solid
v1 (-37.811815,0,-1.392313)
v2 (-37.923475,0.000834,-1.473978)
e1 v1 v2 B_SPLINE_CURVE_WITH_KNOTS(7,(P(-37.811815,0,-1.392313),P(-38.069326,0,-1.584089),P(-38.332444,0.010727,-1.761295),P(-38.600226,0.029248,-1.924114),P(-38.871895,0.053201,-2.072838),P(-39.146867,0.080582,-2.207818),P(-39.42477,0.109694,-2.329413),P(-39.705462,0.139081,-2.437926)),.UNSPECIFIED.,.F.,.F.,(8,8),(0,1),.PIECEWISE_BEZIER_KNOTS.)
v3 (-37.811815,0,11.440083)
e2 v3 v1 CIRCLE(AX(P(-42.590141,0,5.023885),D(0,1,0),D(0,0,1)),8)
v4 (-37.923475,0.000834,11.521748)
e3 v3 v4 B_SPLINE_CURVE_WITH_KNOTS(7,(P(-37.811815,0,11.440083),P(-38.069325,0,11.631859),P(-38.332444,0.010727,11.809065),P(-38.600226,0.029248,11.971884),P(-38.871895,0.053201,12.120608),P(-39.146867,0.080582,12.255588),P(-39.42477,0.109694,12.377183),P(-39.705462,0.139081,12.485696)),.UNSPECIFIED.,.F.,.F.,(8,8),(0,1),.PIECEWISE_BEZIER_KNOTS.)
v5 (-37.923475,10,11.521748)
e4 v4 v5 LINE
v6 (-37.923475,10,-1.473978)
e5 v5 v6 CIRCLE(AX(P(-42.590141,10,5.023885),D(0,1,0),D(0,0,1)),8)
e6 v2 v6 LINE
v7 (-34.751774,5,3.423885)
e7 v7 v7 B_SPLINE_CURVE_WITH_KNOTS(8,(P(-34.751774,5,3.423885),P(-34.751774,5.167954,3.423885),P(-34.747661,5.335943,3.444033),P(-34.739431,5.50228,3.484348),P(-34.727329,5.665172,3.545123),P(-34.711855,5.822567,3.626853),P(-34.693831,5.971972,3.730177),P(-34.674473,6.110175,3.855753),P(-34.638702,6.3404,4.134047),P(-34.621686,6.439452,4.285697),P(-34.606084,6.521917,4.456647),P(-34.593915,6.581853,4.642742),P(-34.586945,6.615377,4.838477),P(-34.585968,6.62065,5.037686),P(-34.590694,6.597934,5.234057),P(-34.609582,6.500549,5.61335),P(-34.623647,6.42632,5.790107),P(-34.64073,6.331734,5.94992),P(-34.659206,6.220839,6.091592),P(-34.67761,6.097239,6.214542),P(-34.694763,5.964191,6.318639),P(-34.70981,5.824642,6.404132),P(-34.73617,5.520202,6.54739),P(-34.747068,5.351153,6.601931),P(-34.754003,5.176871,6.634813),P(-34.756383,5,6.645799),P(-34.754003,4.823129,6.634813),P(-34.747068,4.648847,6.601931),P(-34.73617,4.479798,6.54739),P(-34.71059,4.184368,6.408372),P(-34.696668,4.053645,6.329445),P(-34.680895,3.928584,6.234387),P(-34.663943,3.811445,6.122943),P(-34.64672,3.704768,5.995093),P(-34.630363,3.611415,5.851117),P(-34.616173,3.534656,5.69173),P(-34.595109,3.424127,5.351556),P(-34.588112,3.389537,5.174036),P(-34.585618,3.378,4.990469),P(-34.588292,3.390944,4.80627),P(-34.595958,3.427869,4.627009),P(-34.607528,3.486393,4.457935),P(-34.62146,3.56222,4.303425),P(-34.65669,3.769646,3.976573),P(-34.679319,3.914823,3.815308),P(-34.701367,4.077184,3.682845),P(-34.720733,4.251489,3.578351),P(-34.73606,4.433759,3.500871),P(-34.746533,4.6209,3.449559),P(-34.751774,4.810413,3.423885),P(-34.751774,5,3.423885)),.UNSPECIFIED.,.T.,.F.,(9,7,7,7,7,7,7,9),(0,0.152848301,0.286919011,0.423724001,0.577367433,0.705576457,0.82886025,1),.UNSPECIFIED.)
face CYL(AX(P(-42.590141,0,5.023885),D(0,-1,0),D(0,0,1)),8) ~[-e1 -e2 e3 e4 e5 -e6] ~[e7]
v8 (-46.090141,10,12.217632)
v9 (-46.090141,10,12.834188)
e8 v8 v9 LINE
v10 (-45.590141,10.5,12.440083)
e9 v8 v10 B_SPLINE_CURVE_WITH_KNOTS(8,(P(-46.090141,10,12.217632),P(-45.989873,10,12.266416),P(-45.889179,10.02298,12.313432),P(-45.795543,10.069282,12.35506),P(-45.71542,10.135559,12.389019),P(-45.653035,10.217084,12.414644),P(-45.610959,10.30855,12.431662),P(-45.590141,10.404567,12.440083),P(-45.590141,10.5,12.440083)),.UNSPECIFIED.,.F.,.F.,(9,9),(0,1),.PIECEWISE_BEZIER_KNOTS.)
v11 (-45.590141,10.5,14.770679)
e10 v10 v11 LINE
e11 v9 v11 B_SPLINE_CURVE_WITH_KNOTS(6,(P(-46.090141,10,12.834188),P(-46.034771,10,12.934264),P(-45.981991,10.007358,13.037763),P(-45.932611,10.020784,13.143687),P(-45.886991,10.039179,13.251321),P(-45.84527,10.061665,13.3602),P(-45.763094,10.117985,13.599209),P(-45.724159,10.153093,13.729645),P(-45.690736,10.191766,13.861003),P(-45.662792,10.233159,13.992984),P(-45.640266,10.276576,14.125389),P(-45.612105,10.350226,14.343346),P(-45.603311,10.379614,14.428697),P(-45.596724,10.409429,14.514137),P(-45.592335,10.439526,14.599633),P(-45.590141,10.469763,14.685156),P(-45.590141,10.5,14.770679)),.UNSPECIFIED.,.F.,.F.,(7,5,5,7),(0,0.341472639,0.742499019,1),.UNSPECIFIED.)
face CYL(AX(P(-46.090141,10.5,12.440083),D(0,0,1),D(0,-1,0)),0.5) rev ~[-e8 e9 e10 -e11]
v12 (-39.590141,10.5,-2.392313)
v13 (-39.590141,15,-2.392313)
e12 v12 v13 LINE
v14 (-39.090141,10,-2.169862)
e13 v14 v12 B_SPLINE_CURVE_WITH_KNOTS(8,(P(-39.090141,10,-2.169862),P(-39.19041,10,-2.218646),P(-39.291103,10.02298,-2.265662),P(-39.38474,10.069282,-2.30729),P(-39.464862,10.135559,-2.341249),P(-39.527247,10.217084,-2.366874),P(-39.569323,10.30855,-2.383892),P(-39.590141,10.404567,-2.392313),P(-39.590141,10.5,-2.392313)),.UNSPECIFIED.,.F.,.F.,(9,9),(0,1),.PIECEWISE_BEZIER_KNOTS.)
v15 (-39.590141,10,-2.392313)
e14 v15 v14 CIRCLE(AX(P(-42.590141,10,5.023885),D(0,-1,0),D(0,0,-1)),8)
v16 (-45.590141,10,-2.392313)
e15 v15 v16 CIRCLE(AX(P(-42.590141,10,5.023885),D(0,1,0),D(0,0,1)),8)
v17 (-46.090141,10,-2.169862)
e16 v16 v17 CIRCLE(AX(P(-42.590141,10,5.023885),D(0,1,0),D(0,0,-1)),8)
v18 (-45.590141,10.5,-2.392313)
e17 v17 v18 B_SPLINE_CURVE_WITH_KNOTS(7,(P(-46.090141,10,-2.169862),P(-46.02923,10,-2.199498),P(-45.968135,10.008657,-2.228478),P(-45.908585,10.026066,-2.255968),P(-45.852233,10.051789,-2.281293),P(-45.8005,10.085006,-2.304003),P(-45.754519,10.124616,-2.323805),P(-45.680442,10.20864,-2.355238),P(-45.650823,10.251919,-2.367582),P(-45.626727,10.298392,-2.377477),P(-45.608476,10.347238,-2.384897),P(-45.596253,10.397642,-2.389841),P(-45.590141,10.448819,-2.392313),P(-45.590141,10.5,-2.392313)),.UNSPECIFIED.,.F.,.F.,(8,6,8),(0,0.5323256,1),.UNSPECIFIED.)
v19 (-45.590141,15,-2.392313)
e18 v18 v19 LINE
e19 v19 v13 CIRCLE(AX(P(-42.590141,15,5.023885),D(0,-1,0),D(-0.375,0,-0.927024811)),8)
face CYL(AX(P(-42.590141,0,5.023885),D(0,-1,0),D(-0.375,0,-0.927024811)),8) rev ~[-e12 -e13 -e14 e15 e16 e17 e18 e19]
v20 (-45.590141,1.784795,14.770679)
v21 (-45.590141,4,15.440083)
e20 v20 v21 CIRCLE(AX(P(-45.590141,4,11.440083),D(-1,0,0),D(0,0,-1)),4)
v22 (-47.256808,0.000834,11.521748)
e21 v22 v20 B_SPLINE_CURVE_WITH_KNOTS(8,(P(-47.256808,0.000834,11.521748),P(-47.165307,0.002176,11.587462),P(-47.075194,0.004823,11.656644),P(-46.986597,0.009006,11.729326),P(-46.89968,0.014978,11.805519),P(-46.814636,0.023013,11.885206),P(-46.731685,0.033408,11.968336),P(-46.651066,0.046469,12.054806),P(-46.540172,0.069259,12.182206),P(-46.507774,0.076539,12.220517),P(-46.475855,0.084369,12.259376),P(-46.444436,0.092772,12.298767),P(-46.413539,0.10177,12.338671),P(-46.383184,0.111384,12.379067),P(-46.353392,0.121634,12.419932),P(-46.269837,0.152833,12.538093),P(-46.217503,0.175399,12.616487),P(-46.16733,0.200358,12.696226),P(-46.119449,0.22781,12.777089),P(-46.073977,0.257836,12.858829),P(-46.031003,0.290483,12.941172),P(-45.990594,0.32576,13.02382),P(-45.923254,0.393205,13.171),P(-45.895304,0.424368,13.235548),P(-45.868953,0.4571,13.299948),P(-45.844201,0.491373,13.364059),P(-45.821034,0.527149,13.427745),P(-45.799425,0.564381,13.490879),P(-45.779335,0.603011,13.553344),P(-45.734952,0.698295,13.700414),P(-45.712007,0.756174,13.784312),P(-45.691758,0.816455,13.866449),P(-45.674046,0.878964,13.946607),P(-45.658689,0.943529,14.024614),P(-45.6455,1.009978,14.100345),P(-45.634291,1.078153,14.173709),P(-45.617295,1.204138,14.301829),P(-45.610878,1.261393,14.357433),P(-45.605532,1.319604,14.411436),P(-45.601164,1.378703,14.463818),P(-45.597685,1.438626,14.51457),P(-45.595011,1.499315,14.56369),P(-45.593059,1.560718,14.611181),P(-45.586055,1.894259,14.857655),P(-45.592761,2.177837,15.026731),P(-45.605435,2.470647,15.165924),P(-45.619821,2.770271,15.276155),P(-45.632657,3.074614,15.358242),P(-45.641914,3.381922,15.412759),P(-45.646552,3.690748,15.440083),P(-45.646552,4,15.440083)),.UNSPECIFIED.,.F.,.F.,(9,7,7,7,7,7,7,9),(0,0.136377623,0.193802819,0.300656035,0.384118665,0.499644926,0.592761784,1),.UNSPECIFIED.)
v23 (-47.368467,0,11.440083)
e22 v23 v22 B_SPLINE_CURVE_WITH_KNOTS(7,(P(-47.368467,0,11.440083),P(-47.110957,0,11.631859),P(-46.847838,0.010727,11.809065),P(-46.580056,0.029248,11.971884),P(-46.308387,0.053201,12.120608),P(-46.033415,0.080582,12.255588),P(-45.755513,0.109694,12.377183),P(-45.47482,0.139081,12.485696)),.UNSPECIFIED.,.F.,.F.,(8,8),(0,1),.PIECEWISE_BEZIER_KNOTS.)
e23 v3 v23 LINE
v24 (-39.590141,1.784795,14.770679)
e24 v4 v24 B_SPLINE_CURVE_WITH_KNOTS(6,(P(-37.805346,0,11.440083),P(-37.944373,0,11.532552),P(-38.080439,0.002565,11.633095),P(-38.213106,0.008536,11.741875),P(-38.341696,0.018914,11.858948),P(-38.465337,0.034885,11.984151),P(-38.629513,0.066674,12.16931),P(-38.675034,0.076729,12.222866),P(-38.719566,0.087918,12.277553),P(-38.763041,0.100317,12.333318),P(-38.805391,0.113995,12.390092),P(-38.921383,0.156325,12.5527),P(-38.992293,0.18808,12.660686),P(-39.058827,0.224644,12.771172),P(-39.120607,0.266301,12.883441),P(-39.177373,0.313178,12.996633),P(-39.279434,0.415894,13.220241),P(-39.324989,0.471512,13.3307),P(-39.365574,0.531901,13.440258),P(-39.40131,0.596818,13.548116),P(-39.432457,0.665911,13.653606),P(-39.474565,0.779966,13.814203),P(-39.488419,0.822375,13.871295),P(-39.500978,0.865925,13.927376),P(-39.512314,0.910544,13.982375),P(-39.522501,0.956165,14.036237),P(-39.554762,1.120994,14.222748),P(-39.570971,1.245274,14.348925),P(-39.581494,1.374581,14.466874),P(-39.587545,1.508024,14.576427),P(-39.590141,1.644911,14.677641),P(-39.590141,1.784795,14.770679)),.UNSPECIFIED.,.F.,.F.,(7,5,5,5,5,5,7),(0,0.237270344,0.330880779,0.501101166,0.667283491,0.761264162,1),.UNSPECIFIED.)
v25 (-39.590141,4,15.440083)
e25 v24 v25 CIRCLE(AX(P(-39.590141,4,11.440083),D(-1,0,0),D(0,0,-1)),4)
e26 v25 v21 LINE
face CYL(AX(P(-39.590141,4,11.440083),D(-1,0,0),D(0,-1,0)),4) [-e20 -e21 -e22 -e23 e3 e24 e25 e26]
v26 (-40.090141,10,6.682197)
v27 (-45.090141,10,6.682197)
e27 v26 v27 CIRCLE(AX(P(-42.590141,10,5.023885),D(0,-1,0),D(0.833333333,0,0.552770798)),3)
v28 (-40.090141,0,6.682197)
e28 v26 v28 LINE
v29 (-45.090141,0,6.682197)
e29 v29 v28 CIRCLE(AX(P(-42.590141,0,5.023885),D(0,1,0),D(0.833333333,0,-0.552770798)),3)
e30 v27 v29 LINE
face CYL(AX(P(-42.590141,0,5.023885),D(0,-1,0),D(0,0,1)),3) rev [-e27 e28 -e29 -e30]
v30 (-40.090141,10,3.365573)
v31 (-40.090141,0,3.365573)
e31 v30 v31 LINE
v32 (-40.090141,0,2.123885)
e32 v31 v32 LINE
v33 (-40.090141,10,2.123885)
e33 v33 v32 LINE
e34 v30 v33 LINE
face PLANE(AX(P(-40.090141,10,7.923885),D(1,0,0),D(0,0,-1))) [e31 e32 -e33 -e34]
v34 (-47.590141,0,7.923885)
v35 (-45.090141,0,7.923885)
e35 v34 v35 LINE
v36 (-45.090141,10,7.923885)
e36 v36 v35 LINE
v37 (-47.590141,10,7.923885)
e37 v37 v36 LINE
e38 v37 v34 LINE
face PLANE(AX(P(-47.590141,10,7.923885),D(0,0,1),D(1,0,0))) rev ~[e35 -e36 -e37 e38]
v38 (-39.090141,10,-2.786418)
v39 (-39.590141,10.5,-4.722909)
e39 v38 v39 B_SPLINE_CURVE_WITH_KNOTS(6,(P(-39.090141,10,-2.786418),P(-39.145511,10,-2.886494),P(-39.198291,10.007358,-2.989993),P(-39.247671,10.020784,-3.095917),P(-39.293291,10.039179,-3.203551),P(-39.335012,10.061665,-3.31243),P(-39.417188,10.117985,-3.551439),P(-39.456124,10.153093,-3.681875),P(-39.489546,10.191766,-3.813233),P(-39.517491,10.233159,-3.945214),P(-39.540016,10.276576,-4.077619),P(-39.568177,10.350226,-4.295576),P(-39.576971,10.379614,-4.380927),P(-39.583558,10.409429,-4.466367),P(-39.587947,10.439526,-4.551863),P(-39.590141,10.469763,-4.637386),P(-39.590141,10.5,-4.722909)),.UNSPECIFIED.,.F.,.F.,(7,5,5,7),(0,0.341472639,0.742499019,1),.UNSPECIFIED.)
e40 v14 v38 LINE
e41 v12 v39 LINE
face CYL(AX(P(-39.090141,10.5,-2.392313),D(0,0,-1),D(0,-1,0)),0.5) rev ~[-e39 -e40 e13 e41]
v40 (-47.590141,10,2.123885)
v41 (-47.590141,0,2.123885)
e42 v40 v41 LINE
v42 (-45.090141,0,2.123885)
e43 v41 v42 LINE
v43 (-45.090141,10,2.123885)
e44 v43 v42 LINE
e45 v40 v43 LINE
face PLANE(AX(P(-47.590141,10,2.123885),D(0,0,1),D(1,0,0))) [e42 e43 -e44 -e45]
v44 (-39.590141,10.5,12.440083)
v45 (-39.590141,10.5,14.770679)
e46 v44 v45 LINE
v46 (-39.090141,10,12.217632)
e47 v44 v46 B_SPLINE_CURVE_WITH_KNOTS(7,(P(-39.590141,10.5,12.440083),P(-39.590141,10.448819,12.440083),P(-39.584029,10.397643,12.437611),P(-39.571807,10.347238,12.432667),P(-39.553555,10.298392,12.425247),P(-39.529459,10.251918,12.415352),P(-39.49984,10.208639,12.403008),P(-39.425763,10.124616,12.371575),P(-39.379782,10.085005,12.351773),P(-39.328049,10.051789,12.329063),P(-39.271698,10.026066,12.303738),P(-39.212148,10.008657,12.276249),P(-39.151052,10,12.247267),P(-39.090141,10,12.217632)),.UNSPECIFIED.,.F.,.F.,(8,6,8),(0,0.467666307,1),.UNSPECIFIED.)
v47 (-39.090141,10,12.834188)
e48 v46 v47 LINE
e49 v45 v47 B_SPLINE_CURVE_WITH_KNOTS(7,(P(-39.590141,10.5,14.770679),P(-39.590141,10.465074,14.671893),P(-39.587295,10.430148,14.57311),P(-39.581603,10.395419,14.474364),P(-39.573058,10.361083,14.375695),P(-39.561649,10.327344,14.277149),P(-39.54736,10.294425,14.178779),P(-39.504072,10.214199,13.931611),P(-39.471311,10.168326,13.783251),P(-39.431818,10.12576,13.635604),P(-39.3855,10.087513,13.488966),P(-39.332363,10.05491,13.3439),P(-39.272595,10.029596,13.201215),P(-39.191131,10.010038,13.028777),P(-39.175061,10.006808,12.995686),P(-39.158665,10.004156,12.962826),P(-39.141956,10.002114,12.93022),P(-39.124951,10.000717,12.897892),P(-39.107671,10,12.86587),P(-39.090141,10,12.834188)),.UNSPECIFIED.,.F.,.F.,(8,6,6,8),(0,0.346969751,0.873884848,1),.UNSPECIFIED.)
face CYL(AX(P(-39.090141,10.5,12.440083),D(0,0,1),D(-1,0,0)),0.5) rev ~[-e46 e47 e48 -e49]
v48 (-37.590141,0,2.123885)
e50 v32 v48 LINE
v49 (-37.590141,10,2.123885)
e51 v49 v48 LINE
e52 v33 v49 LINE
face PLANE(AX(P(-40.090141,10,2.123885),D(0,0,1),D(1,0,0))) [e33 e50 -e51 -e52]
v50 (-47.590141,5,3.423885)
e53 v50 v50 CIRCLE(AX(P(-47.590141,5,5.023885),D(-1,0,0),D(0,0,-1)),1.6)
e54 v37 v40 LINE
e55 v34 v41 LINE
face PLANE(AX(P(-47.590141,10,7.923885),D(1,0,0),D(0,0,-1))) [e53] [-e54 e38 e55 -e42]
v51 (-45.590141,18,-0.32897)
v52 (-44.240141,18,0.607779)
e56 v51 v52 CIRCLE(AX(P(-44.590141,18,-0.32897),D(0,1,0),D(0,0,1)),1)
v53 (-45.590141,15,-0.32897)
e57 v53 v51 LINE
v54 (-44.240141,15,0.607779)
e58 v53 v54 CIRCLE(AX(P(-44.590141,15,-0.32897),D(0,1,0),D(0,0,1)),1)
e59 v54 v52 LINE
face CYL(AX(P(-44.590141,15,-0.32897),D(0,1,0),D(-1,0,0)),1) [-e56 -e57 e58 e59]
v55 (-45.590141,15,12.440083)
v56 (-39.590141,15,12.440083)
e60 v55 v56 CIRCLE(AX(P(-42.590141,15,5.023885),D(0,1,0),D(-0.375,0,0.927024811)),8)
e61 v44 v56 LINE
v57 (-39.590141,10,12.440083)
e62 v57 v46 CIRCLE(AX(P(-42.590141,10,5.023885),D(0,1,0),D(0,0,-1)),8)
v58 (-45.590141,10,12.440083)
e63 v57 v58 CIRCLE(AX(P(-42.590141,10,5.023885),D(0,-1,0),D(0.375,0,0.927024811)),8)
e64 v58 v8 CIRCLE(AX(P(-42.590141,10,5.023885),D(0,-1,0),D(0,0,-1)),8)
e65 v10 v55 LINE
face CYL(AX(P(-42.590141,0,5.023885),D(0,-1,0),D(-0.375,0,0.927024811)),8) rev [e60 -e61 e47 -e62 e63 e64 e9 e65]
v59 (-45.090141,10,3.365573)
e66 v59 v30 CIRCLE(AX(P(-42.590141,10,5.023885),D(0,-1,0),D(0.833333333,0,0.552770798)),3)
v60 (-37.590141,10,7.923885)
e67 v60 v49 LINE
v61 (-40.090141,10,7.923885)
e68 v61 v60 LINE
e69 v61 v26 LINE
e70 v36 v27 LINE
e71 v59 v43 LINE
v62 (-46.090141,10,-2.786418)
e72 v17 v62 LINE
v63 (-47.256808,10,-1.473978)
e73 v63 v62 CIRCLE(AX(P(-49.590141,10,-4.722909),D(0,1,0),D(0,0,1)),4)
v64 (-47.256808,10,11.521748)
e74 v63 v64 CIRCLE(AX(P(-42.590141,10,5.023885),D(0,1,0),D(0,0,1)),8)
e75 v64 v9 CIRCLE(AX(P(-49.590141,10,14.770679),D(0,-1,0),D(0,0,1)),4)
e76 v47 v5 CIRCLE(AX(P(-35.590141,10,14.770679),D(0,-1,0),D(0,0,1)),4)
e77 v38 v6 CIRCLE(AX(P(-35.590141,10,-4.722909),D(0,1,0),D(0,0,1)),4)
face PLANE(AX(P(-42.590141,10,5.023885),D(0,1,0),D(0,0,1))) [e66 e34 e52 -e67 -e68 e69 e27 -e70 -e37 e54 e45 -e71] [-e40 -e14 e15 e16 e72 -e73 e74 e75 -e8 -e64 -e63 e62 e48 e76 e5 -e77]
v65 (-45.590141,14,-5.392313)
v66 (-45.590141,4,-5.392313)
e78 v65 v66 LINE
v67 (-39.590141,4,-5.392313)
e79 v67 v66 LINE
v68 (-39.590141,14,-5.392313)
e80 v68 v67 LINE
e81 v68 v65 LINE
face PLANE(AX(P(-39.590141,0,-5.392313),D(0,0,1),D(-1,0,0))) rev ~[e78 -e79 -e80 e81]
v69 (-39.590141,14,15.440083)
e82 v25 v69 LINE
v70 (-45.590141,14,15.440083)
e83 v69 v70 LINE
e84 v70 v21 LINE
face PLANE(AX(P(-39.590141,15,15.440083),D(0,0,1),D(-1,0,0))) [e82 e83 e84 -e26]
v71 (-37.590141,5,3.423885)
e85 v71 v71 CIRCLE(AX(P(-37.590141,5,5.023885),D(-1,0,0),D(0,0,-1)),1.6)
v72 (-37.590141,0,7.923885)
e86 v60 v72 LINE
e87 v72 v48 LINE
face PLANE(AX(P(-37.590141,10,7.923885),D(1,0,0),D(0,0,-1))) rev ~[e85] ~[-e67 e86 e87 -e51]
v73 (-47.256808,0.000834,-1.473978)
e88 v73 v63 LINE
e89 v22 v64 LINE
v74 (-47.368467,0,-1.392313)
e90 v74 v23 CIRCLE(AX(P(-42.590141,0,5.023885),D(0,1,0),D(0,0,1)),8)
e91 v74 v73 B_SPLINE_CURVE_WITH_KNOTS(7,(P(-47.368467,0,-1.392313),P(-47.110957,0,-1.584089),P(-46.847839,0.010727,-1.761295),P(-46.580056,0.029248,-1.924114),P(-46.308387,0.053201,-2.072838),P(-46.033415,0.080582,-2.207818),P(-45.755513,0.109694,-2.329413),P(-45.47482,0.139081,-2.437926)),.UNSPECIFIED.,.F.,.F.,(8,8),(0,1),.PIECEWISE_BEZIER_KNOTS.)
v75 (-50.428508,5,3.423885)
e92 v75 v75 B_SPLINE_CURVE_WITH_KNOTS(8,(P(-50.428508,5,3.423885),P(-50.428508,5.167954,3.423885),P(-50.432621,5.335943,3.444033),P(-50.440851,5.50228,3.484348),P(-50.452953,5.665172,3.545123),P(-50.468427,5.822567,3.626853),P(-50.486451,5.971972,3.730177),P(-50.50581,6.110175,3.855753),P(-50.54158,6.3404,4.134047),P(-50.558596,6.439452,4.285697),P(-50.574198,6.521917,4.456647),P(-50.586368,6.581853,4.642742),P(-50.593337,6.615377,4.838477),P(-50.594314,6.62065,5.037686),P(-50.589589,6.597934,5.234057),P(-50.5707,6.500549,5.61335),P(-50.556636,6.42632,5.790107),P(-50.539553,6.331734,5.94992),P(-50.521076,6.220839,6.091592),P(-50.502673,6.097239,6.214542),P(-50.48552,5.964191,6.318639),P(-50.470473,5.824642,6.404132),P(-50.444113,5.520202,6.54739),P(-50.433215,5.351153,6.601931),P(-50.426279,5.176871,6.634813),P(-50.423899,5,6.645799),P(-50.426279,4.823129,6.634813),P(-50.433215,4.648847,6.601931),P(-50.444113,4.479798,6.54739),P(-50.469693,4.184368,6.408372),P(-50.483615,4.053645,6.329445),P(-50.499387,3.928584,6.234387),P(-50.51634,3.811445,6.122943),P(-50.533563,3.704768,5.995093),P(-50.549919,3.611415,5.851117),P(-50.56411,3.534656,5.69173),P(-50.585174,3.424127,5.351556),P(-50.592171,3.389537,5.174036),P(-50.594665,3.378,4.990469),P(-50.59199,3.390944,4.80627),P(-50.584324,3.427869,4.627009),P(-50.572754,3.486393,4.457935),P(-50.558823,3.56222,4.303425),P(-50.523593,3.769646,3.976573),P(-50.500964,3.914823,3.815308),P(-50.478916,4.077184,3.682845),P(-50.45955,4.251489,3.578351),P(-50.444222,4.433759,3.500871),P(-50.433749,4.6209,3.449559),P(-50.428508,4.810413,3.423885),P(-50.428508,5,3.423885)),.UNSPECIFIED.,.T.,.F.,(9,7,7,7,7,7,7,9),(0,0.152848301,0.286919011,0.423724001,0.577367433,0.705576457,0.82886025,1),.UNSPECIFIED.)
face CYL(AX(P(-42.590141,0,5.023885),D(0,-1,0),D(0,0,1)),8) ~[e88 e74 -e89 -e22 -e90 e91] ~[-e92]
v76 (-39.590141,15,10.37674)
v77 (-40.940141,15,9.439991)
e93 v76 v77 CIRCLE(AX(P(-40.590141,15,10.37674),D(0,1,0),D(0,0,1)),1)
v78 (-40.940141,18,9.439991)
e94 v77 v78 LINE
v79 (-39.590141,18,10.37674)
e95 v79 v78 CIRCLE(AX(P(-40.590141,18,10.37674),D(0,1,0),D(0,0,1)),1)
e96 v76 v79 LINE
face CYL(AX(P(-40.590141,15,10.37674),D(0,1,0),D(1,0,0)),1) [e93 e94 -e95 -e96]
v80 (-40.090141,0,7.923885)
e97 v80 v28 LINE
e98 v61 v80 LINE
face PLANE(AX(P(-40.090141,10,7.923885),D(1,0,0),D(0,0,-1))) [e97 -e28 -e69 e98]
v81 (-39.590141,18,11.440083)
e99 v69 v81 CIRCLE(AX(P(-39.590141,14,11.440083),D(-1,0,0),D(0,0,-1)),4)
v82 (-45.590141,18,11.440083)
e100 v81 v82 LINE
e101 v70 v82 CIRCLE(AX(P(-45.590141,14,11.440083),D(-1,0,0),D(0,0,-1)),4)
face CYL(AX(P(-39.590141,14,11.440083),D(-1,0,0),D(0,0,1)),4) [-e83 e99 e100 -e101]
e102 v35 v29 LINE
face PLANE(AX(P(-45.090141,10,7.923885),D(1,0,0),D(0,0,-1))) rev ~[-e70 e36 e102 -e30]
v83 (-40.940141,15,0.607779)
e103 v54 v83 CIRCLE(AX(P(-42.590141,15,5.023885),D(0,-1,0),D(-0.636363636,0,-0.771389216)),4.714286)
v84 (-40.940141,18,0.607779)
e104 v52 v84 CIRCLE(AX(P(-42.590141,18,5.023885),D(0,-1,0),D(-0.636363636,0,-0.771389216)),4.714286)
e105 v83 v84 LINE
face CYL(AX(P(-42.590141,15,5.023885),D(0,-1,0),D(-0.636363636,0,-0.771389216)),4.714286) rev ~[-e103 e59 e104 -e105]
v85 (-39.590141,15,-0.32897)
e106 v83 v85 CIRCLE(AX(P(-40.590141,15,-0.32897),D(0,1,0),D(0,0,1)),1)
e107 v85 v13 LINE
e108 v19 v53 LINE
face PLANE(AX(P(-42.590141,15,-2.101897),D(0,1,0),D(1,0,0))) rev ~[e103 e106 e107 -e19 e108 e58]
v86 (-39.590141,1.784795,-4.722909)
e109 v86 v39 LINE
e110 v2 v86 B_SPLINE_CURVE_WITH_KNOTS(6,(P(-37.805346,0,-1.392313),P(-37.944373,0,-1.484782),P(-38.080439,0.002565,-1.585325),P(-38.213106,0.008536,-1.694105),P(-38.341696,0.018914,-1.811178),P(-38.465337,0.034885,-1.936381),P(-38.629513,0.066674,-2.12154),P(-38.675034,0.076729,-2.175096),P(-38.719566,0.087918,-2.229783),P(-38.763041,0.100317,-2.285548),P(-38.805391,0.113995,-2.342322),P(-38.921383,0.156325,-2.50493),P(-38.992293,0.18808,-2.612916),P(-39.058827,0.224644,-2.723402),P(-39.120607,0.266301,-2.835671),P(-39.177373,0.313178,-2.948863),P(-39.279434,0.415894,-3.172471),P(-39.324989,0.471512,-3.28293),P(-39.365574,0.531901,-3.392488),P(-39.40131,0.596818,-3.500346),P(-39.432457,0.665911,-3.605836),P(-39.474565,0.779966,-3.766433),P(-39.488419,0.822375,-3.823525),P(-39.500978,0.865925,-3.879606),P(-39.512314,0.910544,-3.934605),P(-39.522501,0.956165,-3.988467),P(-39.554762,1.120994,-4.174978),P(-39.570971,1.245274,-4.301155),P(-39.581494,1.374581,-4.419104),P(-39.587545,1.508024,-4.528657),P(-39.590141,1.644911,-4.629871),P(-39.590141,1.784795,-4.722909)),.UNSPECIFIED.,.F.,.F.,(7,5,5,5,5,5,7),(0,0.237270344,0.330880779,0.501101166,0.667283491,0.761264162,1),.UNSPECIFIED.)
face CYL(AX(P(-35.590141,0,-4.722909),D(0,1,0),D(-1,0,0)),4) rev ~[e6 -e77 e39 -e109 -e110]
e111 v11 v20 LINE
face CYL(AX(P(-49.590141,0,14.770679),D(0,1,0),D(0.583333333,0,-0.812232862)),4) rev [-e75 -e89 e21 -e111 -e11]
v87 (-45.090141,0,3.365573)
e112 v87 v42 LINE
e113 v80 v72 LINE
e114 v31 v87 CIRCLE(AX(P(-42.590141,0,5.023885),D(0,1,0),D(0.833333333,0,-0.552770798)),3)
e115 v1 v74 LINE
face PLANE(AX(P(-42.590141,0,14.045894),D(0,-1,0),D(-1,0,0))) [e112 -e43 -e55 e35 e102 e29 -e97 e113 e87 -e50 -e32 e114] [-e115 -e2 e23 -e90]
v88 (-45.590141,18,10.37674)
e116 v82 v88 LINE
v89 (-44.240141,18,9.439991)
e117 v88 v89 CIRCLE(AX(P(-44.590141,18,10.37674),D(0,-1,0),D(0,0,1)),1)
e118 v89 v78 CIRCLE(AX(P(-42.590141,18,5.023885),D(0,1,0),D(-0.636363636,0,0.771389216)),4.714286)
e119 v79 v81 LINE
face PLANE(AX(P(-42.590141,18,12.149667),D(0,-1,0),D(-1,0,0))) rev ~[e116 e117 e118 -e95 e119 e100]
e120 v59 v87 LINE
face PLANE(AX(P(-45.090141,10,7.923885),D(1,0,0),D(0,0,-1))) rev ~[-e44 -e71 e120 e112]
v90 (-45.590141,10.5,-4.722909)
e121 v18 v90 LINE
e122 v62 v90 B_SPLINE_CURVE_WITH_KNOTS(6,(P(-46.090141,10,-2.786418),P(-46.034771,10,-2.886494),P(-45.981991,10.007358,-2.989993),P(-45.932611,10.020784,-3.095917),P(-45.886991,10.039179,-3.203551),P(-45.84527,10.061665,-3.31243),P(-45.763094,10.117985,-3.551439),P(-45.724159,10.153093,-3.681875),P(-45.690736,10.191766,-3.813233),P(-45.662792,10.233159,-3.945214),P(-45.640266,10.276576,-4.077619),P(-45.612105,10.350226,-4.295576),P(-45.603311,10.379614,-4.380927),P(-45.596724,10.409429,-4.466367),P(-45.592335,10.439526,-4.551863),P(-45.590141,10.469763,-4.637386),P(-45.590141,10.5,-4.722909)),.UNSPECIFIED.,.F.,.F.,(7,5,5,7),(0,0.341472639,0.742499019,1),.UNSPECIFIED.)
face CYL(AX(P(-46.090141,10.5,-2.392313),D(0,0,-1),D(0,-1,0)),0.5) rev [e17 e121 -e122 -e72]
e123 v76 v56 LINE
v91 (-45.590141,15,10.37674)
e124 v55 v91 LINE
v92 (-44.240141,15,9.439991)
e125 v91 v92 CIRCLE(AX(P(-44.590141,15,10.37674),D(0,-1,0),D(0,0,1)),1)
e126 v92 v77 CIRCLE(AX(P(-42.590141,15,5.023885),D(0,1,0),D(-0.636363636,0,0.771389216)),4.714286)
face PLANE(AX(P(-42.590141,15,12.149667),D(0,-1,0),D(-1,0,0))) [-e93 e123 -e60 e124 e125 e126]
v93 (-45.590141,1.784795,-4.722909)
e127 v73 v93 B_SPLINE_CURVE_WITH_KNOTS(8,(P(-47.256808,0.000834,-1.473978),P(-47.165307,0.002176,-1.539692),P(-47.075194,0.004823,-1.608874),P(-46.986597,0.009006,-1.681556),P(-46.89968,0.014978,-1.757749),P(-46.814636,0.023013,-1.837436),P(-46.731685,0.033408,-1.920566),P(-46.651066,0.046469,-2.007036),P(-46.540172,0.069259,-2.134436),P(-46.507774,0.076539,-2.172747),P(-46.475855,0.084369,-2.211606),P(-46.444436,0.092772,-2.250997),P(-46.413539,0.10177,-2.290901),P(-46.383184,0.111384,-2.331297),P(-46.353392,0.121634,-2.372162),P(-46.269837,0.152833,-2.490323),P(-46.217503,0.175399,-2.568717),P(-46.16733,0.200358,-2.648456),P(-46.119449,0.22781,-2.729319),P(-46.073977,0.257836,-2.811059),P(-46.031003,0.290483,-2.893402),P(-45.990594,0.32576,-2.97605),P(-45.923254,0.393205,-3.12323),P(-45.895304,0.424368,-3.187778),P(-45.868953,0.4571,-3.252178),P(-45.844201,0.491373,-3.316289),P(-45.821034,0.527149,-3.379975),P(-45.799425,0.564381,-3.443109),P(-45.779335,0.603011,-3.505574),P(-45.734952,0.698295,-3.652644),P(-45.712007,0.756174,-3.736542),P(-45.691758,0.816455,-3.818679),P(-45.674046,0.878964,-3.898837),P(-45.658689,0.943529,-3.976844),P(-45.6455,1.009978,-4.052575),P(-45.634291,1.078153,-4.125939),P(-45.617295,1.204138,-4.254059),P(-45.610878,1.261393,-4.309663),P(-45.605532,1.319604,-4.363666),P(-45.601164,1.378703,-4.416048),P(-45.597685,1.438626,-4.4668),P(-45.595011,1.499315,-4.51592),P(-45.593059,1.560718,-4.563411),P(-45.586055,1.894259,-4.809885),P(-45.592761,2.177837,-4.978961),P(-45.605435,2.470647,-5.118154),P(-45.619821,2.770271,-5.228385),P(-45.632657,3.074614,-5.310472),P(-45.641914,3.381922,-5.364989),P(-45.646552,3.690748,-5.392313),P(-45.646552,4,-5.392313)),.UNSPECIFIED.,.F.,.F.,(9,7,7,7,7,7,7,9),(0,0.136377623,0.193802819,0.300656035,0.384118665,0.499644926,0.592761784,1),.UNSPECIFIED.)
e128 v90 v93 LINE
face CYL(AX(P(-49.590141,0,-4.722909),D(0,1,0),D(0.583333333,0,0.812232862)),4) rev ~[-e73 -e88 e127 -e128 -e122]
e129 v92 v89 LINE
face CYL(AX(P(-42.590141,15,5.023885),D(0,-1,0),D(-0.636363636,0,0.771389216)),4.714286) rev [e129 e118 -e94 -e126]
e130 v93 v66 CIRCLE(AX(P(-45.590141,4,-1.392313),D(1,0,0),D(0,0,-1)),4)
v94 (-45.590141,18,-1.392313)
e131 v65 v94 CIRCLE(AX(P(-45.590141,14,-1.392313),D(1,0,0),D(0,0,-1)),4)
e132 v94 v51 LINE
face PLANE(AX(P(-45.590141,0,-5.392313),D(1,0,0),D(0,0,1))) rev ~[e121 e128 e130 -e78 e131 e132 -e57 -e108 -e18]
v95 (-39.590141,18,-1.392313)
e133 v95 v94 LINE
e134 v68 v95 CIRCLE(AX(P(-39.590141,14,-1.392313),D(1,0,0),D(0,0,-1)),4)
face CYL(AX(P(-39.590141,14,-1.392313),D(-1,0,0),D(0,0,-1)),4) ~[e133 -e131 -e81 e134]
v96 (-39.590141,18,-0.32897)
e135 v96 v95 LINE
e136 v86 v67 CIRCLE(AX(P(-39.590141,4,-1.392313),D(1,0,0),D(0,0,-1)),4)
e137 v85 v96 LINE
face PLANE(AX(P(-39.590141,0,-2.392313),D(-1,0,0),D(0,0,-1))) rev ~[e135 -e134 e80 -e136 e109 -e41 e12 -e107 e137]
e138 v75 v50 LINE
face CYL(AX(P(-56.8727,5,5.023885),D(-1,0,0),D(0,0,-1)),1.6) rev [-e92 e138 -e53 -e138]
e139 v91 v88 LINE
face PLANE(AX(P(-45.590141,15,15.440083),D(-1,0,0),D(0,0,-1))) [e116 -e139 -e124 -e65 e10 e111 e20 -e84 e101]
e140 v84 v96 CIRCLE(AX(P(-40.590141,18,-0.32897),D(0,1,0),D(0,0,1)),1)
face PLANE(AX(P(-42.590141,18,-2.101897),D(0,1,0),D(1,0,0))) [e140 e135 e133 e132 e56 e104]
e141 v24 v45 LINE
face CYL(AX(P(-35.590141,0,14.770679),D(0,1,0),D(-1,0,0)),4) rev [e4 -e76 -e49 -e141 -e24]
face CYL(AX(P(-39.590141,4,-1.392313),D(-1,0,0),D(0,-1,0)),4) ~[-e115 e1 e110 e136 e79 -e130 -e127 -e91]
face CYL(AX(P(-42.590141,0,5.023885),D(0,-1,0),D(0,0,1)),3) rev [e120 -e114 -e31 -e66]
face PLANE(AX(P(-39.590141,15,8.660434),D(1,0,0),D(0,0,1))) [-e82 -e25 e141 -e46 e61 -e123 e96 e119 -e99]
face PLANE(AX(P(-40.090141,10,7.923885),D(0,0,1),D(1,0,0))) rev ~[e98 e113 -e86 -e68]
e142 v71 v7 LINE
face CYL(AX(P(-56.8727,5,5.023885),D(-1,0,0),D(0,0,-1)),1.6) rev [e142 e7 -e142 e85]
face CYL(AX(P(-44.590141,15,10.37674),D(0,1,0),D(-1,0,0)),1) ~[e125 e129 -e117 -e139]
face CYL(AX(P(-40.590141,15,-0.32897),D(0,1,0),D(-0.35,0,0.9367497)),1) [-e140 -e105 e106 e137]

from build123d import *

# Parameters (mm, degrees)
SKETCH1_R               = 8
SKETCH1_R_2             = 3
BOSS_EXTRUDE1_DEPTH     = 10
BOSS_EXTRUDE2_DEPTH     = 15
BOSS_EXTRUDE3_DEPTH     = 3
FILLET1_R               = 4
FILLET2_R               = 4
FILLET3_R               = 0.5
FILLET4_R               = 1
CUT_EXTRUDE1_DEPTH      = 56.872699751
CUT_EXTRUDE1_DEPTH_BACK = 56.872699751
SKETCH5_R               = 1.6
CUT_EXTRUDE2_REACH      = 55.831
SKETCH6_W               = 2.5
SKETCH6_H               = 5.8


with BuildPart() as part:
    # Sketch1 → Boss-Extrude1 (new body)
    with BuildSketch(Plane(origin=(0, 0, 0), x_dir=(1, 0, 0), z_dir=(0, 1, 0))):
        with Locations((-42.590141196, -5.023885001)):
            Circle(SKETCH1_R)
        with Locations((-42.590141196, -5.023885001)):
            Circle(SKETCH1_R_2, mode=Mode.SUBTRACT)
    extrude(amount=BOSS_EXTRUDE1_DEPTH)

    # Sketch2 → Boss-Extrude2 (add)
    with BuildSketch(Plane(origin=(0, 0, 0), x_dir=(1, 0, 0), z_dir=(0, 1, 0))):
        with BuildLine():
            Line((-39.590141196, -12.440083488), (-39.590141196, -15.440083488))
            Line((-39.590141196, -15.440083488), (-45.590141196, -15.440083488))
            Line((-45.590141196, -15.440083488), (-45.590141196, -12.440083488))
            ThreePointArc((-45.590141196, -12.440083488), (-42.590141196, -13.023885001), (-39.590141196, -12.440083488))
        make_face()
        with BuildLine():
            Line((-45.590141196, 5.392313486), (-45.590141196, 2.392313486))
            ThreePointArc((-45.590141196, 2.392313486), (-42.590141196, 2.976114999), (-39.590141196, 2.392313486))
            Line((-39.590141196, 2.392313486), (-39.590141196, 5.392313486))
            Line((-39.590141196, 5.392313486), (-45.590141196, 5.392313486))
        make_face()
    extrude(amount=BOSS_EXTRUDE2_DEPTH)

    # Sketch3 → Boss-Extrude3 (add)
    with BuildSketch(Plane(origin=(0, 15, 0), x_dir=(1, 0, 0), z_dir=(0, 1, 0))):
        with BuildLine():
            Line((-39.590141196, -15.440083488), (-45.590141196, -15.440083488))
            Line((-45.590141196, -15.440083488), (-45.590141196, -8.660434161))
            ThreePointArc((-45.590141196, -8.660434161), (-42.590141196, -9.738170715), (-39.590141196, -8.660434161))
            Line((-39.590141196, -8.660434161), (-39.590141196, -15.440083488))
        make_face()
        with BuildLine():
            Line((-45.590141196, 5.392313486), (-45.590141196, -1.38733584))
            ThreePointArc((-45.590141196, -1.38733584), (-42.590141196, -0.309599286), (-39.590141196, -1.38733584))
            Line((-39.590141196, -1.38733584), (-39.590141196, 5.392313486))
            Line((-39.590141196, 5.392313486), (-45.590141196, 5.392313486))
        make_face()
    extrude(amount=BOSS_EXTRUDE3_DEPTH)

    # Fillet1
    fillet1_edges = [part.edges().sort_by_distance(p)[0] for p in [
        (-39.590141196, 5, -2.392313486),
        (-39.590141196, 5, 12.440083488),
        (-45.590141196, 5, 12.440083488),
        (-45.590141196, 5, -2.392313486),
    ]]
    fillet(fillet1_edges, radius=FILLET1_R)

    # Fillet2
    fillet2_edges = [part.edges().sort_by_distance(p)[0] for p in [
        (-42.590141196, 18, 15.440083488),
        (-42.590141196, 18, -5.392313486),
        (-42.590141196, 0, -5.392313486),
        (-42.590141196, 0, 15.440083488),
    ]]
    fillet(fillet2_edges, radius=FILLET2_R)

    # Fillet3
    fillet3_edges = [part.edges().sort_by_distance(p)[0] for p in [
        (-39.590141196, 10, 13.605381417),
        (-45.590141196, 10, 13.605381417),
        (-45.590141196, 10, -3.557611415),
        (-39.590141196, 10, -3.557611415),
    ]]
    fillet(fillet3_edges, radius=FILLET3_R)

    # Fillet4
    fillet4_edges = [part.edges().sort_by_distance(p)[0] for p in [
        (-39.590141196, 16.5, 8.660434161),
        (-45.590141196, 16.5, 8.660434161),
        (-39.590141196, 16.5, 1.38733584),
        (-45.590141196, 16.5, 1.38733584),
    ]]
    fillet(fillet4_edges, radius=FILLET4_R)

    # Sketch5 → Cut-Extrude1 (cut, two sides: drawn at the far end of the back side and taken through both)
    with BuildSketch(Plane(origin=(0, 0, 0), x_dir=(0, 0, -1), z_dir=(1, 0, 0)).offset(-CUT_EXTRUDE1_DEPTH_BACK)):
        with Locations((-5.023885001, 5)):
            Circle(SKETCH5_R)
    extrude(amount=CUT_EXTRUDE1_DEPTH + CUT_EXTRUDE1_DEPTH_BACK, mode=Mode.SUBTRACT)

    # Sketch6 → Cut-Extrude2 (cut, up to next)
    with BuildSketch(Plane(origin=(0, 10, 0), x_dir=(1, 0, 0), z_dir=(0, 1, 0)), mode=Mode.PRIVATE) as cut_extrude2_sk1:
        with Locations((-38.840141196, -5.023885001)):
            Rectangle(SKETCH6_W, SKETCH6_H)
    cut_extrude2_tool1 = extrude(cut_extrude2_sk1.sketch, amount=-CUT_EXTRUDE2_REACH, mode=Mode.PRIVATE) & part.part
    # Sketch6 → Cut-Extrude2 (cut, up to next)
    with BuildSketch(Plane(origin=(0, 10, 0), x_dir=(1, 0, 0), z_dir=(0, 1, 0)), mode=Mode.PRIVATE) as cut_extrude2_sk2:
        with Locations((-46.340141196, -5.023885001)):
            Rectangle(SKETCH6_W, SKETCH6_H)
    cut_extrude2_tool2 = extrude(cut_extrude2_sk2.sketch, amount=-CUT_EXTRUDE2_REACH, mode=Mode.PRIVATE) & part.part
    add(cut_extrude2_tool1.solids().sort_by_distance((-38.840141, 10, 5.023885))[0], mode=Mode.SUBTRACT)
    add(cut_extrude2_tool2.solids().sort_by_distance((-46.340141, 10, 5.023885))[0], mode=Mode.SUBTRACT)


solid = part.part
